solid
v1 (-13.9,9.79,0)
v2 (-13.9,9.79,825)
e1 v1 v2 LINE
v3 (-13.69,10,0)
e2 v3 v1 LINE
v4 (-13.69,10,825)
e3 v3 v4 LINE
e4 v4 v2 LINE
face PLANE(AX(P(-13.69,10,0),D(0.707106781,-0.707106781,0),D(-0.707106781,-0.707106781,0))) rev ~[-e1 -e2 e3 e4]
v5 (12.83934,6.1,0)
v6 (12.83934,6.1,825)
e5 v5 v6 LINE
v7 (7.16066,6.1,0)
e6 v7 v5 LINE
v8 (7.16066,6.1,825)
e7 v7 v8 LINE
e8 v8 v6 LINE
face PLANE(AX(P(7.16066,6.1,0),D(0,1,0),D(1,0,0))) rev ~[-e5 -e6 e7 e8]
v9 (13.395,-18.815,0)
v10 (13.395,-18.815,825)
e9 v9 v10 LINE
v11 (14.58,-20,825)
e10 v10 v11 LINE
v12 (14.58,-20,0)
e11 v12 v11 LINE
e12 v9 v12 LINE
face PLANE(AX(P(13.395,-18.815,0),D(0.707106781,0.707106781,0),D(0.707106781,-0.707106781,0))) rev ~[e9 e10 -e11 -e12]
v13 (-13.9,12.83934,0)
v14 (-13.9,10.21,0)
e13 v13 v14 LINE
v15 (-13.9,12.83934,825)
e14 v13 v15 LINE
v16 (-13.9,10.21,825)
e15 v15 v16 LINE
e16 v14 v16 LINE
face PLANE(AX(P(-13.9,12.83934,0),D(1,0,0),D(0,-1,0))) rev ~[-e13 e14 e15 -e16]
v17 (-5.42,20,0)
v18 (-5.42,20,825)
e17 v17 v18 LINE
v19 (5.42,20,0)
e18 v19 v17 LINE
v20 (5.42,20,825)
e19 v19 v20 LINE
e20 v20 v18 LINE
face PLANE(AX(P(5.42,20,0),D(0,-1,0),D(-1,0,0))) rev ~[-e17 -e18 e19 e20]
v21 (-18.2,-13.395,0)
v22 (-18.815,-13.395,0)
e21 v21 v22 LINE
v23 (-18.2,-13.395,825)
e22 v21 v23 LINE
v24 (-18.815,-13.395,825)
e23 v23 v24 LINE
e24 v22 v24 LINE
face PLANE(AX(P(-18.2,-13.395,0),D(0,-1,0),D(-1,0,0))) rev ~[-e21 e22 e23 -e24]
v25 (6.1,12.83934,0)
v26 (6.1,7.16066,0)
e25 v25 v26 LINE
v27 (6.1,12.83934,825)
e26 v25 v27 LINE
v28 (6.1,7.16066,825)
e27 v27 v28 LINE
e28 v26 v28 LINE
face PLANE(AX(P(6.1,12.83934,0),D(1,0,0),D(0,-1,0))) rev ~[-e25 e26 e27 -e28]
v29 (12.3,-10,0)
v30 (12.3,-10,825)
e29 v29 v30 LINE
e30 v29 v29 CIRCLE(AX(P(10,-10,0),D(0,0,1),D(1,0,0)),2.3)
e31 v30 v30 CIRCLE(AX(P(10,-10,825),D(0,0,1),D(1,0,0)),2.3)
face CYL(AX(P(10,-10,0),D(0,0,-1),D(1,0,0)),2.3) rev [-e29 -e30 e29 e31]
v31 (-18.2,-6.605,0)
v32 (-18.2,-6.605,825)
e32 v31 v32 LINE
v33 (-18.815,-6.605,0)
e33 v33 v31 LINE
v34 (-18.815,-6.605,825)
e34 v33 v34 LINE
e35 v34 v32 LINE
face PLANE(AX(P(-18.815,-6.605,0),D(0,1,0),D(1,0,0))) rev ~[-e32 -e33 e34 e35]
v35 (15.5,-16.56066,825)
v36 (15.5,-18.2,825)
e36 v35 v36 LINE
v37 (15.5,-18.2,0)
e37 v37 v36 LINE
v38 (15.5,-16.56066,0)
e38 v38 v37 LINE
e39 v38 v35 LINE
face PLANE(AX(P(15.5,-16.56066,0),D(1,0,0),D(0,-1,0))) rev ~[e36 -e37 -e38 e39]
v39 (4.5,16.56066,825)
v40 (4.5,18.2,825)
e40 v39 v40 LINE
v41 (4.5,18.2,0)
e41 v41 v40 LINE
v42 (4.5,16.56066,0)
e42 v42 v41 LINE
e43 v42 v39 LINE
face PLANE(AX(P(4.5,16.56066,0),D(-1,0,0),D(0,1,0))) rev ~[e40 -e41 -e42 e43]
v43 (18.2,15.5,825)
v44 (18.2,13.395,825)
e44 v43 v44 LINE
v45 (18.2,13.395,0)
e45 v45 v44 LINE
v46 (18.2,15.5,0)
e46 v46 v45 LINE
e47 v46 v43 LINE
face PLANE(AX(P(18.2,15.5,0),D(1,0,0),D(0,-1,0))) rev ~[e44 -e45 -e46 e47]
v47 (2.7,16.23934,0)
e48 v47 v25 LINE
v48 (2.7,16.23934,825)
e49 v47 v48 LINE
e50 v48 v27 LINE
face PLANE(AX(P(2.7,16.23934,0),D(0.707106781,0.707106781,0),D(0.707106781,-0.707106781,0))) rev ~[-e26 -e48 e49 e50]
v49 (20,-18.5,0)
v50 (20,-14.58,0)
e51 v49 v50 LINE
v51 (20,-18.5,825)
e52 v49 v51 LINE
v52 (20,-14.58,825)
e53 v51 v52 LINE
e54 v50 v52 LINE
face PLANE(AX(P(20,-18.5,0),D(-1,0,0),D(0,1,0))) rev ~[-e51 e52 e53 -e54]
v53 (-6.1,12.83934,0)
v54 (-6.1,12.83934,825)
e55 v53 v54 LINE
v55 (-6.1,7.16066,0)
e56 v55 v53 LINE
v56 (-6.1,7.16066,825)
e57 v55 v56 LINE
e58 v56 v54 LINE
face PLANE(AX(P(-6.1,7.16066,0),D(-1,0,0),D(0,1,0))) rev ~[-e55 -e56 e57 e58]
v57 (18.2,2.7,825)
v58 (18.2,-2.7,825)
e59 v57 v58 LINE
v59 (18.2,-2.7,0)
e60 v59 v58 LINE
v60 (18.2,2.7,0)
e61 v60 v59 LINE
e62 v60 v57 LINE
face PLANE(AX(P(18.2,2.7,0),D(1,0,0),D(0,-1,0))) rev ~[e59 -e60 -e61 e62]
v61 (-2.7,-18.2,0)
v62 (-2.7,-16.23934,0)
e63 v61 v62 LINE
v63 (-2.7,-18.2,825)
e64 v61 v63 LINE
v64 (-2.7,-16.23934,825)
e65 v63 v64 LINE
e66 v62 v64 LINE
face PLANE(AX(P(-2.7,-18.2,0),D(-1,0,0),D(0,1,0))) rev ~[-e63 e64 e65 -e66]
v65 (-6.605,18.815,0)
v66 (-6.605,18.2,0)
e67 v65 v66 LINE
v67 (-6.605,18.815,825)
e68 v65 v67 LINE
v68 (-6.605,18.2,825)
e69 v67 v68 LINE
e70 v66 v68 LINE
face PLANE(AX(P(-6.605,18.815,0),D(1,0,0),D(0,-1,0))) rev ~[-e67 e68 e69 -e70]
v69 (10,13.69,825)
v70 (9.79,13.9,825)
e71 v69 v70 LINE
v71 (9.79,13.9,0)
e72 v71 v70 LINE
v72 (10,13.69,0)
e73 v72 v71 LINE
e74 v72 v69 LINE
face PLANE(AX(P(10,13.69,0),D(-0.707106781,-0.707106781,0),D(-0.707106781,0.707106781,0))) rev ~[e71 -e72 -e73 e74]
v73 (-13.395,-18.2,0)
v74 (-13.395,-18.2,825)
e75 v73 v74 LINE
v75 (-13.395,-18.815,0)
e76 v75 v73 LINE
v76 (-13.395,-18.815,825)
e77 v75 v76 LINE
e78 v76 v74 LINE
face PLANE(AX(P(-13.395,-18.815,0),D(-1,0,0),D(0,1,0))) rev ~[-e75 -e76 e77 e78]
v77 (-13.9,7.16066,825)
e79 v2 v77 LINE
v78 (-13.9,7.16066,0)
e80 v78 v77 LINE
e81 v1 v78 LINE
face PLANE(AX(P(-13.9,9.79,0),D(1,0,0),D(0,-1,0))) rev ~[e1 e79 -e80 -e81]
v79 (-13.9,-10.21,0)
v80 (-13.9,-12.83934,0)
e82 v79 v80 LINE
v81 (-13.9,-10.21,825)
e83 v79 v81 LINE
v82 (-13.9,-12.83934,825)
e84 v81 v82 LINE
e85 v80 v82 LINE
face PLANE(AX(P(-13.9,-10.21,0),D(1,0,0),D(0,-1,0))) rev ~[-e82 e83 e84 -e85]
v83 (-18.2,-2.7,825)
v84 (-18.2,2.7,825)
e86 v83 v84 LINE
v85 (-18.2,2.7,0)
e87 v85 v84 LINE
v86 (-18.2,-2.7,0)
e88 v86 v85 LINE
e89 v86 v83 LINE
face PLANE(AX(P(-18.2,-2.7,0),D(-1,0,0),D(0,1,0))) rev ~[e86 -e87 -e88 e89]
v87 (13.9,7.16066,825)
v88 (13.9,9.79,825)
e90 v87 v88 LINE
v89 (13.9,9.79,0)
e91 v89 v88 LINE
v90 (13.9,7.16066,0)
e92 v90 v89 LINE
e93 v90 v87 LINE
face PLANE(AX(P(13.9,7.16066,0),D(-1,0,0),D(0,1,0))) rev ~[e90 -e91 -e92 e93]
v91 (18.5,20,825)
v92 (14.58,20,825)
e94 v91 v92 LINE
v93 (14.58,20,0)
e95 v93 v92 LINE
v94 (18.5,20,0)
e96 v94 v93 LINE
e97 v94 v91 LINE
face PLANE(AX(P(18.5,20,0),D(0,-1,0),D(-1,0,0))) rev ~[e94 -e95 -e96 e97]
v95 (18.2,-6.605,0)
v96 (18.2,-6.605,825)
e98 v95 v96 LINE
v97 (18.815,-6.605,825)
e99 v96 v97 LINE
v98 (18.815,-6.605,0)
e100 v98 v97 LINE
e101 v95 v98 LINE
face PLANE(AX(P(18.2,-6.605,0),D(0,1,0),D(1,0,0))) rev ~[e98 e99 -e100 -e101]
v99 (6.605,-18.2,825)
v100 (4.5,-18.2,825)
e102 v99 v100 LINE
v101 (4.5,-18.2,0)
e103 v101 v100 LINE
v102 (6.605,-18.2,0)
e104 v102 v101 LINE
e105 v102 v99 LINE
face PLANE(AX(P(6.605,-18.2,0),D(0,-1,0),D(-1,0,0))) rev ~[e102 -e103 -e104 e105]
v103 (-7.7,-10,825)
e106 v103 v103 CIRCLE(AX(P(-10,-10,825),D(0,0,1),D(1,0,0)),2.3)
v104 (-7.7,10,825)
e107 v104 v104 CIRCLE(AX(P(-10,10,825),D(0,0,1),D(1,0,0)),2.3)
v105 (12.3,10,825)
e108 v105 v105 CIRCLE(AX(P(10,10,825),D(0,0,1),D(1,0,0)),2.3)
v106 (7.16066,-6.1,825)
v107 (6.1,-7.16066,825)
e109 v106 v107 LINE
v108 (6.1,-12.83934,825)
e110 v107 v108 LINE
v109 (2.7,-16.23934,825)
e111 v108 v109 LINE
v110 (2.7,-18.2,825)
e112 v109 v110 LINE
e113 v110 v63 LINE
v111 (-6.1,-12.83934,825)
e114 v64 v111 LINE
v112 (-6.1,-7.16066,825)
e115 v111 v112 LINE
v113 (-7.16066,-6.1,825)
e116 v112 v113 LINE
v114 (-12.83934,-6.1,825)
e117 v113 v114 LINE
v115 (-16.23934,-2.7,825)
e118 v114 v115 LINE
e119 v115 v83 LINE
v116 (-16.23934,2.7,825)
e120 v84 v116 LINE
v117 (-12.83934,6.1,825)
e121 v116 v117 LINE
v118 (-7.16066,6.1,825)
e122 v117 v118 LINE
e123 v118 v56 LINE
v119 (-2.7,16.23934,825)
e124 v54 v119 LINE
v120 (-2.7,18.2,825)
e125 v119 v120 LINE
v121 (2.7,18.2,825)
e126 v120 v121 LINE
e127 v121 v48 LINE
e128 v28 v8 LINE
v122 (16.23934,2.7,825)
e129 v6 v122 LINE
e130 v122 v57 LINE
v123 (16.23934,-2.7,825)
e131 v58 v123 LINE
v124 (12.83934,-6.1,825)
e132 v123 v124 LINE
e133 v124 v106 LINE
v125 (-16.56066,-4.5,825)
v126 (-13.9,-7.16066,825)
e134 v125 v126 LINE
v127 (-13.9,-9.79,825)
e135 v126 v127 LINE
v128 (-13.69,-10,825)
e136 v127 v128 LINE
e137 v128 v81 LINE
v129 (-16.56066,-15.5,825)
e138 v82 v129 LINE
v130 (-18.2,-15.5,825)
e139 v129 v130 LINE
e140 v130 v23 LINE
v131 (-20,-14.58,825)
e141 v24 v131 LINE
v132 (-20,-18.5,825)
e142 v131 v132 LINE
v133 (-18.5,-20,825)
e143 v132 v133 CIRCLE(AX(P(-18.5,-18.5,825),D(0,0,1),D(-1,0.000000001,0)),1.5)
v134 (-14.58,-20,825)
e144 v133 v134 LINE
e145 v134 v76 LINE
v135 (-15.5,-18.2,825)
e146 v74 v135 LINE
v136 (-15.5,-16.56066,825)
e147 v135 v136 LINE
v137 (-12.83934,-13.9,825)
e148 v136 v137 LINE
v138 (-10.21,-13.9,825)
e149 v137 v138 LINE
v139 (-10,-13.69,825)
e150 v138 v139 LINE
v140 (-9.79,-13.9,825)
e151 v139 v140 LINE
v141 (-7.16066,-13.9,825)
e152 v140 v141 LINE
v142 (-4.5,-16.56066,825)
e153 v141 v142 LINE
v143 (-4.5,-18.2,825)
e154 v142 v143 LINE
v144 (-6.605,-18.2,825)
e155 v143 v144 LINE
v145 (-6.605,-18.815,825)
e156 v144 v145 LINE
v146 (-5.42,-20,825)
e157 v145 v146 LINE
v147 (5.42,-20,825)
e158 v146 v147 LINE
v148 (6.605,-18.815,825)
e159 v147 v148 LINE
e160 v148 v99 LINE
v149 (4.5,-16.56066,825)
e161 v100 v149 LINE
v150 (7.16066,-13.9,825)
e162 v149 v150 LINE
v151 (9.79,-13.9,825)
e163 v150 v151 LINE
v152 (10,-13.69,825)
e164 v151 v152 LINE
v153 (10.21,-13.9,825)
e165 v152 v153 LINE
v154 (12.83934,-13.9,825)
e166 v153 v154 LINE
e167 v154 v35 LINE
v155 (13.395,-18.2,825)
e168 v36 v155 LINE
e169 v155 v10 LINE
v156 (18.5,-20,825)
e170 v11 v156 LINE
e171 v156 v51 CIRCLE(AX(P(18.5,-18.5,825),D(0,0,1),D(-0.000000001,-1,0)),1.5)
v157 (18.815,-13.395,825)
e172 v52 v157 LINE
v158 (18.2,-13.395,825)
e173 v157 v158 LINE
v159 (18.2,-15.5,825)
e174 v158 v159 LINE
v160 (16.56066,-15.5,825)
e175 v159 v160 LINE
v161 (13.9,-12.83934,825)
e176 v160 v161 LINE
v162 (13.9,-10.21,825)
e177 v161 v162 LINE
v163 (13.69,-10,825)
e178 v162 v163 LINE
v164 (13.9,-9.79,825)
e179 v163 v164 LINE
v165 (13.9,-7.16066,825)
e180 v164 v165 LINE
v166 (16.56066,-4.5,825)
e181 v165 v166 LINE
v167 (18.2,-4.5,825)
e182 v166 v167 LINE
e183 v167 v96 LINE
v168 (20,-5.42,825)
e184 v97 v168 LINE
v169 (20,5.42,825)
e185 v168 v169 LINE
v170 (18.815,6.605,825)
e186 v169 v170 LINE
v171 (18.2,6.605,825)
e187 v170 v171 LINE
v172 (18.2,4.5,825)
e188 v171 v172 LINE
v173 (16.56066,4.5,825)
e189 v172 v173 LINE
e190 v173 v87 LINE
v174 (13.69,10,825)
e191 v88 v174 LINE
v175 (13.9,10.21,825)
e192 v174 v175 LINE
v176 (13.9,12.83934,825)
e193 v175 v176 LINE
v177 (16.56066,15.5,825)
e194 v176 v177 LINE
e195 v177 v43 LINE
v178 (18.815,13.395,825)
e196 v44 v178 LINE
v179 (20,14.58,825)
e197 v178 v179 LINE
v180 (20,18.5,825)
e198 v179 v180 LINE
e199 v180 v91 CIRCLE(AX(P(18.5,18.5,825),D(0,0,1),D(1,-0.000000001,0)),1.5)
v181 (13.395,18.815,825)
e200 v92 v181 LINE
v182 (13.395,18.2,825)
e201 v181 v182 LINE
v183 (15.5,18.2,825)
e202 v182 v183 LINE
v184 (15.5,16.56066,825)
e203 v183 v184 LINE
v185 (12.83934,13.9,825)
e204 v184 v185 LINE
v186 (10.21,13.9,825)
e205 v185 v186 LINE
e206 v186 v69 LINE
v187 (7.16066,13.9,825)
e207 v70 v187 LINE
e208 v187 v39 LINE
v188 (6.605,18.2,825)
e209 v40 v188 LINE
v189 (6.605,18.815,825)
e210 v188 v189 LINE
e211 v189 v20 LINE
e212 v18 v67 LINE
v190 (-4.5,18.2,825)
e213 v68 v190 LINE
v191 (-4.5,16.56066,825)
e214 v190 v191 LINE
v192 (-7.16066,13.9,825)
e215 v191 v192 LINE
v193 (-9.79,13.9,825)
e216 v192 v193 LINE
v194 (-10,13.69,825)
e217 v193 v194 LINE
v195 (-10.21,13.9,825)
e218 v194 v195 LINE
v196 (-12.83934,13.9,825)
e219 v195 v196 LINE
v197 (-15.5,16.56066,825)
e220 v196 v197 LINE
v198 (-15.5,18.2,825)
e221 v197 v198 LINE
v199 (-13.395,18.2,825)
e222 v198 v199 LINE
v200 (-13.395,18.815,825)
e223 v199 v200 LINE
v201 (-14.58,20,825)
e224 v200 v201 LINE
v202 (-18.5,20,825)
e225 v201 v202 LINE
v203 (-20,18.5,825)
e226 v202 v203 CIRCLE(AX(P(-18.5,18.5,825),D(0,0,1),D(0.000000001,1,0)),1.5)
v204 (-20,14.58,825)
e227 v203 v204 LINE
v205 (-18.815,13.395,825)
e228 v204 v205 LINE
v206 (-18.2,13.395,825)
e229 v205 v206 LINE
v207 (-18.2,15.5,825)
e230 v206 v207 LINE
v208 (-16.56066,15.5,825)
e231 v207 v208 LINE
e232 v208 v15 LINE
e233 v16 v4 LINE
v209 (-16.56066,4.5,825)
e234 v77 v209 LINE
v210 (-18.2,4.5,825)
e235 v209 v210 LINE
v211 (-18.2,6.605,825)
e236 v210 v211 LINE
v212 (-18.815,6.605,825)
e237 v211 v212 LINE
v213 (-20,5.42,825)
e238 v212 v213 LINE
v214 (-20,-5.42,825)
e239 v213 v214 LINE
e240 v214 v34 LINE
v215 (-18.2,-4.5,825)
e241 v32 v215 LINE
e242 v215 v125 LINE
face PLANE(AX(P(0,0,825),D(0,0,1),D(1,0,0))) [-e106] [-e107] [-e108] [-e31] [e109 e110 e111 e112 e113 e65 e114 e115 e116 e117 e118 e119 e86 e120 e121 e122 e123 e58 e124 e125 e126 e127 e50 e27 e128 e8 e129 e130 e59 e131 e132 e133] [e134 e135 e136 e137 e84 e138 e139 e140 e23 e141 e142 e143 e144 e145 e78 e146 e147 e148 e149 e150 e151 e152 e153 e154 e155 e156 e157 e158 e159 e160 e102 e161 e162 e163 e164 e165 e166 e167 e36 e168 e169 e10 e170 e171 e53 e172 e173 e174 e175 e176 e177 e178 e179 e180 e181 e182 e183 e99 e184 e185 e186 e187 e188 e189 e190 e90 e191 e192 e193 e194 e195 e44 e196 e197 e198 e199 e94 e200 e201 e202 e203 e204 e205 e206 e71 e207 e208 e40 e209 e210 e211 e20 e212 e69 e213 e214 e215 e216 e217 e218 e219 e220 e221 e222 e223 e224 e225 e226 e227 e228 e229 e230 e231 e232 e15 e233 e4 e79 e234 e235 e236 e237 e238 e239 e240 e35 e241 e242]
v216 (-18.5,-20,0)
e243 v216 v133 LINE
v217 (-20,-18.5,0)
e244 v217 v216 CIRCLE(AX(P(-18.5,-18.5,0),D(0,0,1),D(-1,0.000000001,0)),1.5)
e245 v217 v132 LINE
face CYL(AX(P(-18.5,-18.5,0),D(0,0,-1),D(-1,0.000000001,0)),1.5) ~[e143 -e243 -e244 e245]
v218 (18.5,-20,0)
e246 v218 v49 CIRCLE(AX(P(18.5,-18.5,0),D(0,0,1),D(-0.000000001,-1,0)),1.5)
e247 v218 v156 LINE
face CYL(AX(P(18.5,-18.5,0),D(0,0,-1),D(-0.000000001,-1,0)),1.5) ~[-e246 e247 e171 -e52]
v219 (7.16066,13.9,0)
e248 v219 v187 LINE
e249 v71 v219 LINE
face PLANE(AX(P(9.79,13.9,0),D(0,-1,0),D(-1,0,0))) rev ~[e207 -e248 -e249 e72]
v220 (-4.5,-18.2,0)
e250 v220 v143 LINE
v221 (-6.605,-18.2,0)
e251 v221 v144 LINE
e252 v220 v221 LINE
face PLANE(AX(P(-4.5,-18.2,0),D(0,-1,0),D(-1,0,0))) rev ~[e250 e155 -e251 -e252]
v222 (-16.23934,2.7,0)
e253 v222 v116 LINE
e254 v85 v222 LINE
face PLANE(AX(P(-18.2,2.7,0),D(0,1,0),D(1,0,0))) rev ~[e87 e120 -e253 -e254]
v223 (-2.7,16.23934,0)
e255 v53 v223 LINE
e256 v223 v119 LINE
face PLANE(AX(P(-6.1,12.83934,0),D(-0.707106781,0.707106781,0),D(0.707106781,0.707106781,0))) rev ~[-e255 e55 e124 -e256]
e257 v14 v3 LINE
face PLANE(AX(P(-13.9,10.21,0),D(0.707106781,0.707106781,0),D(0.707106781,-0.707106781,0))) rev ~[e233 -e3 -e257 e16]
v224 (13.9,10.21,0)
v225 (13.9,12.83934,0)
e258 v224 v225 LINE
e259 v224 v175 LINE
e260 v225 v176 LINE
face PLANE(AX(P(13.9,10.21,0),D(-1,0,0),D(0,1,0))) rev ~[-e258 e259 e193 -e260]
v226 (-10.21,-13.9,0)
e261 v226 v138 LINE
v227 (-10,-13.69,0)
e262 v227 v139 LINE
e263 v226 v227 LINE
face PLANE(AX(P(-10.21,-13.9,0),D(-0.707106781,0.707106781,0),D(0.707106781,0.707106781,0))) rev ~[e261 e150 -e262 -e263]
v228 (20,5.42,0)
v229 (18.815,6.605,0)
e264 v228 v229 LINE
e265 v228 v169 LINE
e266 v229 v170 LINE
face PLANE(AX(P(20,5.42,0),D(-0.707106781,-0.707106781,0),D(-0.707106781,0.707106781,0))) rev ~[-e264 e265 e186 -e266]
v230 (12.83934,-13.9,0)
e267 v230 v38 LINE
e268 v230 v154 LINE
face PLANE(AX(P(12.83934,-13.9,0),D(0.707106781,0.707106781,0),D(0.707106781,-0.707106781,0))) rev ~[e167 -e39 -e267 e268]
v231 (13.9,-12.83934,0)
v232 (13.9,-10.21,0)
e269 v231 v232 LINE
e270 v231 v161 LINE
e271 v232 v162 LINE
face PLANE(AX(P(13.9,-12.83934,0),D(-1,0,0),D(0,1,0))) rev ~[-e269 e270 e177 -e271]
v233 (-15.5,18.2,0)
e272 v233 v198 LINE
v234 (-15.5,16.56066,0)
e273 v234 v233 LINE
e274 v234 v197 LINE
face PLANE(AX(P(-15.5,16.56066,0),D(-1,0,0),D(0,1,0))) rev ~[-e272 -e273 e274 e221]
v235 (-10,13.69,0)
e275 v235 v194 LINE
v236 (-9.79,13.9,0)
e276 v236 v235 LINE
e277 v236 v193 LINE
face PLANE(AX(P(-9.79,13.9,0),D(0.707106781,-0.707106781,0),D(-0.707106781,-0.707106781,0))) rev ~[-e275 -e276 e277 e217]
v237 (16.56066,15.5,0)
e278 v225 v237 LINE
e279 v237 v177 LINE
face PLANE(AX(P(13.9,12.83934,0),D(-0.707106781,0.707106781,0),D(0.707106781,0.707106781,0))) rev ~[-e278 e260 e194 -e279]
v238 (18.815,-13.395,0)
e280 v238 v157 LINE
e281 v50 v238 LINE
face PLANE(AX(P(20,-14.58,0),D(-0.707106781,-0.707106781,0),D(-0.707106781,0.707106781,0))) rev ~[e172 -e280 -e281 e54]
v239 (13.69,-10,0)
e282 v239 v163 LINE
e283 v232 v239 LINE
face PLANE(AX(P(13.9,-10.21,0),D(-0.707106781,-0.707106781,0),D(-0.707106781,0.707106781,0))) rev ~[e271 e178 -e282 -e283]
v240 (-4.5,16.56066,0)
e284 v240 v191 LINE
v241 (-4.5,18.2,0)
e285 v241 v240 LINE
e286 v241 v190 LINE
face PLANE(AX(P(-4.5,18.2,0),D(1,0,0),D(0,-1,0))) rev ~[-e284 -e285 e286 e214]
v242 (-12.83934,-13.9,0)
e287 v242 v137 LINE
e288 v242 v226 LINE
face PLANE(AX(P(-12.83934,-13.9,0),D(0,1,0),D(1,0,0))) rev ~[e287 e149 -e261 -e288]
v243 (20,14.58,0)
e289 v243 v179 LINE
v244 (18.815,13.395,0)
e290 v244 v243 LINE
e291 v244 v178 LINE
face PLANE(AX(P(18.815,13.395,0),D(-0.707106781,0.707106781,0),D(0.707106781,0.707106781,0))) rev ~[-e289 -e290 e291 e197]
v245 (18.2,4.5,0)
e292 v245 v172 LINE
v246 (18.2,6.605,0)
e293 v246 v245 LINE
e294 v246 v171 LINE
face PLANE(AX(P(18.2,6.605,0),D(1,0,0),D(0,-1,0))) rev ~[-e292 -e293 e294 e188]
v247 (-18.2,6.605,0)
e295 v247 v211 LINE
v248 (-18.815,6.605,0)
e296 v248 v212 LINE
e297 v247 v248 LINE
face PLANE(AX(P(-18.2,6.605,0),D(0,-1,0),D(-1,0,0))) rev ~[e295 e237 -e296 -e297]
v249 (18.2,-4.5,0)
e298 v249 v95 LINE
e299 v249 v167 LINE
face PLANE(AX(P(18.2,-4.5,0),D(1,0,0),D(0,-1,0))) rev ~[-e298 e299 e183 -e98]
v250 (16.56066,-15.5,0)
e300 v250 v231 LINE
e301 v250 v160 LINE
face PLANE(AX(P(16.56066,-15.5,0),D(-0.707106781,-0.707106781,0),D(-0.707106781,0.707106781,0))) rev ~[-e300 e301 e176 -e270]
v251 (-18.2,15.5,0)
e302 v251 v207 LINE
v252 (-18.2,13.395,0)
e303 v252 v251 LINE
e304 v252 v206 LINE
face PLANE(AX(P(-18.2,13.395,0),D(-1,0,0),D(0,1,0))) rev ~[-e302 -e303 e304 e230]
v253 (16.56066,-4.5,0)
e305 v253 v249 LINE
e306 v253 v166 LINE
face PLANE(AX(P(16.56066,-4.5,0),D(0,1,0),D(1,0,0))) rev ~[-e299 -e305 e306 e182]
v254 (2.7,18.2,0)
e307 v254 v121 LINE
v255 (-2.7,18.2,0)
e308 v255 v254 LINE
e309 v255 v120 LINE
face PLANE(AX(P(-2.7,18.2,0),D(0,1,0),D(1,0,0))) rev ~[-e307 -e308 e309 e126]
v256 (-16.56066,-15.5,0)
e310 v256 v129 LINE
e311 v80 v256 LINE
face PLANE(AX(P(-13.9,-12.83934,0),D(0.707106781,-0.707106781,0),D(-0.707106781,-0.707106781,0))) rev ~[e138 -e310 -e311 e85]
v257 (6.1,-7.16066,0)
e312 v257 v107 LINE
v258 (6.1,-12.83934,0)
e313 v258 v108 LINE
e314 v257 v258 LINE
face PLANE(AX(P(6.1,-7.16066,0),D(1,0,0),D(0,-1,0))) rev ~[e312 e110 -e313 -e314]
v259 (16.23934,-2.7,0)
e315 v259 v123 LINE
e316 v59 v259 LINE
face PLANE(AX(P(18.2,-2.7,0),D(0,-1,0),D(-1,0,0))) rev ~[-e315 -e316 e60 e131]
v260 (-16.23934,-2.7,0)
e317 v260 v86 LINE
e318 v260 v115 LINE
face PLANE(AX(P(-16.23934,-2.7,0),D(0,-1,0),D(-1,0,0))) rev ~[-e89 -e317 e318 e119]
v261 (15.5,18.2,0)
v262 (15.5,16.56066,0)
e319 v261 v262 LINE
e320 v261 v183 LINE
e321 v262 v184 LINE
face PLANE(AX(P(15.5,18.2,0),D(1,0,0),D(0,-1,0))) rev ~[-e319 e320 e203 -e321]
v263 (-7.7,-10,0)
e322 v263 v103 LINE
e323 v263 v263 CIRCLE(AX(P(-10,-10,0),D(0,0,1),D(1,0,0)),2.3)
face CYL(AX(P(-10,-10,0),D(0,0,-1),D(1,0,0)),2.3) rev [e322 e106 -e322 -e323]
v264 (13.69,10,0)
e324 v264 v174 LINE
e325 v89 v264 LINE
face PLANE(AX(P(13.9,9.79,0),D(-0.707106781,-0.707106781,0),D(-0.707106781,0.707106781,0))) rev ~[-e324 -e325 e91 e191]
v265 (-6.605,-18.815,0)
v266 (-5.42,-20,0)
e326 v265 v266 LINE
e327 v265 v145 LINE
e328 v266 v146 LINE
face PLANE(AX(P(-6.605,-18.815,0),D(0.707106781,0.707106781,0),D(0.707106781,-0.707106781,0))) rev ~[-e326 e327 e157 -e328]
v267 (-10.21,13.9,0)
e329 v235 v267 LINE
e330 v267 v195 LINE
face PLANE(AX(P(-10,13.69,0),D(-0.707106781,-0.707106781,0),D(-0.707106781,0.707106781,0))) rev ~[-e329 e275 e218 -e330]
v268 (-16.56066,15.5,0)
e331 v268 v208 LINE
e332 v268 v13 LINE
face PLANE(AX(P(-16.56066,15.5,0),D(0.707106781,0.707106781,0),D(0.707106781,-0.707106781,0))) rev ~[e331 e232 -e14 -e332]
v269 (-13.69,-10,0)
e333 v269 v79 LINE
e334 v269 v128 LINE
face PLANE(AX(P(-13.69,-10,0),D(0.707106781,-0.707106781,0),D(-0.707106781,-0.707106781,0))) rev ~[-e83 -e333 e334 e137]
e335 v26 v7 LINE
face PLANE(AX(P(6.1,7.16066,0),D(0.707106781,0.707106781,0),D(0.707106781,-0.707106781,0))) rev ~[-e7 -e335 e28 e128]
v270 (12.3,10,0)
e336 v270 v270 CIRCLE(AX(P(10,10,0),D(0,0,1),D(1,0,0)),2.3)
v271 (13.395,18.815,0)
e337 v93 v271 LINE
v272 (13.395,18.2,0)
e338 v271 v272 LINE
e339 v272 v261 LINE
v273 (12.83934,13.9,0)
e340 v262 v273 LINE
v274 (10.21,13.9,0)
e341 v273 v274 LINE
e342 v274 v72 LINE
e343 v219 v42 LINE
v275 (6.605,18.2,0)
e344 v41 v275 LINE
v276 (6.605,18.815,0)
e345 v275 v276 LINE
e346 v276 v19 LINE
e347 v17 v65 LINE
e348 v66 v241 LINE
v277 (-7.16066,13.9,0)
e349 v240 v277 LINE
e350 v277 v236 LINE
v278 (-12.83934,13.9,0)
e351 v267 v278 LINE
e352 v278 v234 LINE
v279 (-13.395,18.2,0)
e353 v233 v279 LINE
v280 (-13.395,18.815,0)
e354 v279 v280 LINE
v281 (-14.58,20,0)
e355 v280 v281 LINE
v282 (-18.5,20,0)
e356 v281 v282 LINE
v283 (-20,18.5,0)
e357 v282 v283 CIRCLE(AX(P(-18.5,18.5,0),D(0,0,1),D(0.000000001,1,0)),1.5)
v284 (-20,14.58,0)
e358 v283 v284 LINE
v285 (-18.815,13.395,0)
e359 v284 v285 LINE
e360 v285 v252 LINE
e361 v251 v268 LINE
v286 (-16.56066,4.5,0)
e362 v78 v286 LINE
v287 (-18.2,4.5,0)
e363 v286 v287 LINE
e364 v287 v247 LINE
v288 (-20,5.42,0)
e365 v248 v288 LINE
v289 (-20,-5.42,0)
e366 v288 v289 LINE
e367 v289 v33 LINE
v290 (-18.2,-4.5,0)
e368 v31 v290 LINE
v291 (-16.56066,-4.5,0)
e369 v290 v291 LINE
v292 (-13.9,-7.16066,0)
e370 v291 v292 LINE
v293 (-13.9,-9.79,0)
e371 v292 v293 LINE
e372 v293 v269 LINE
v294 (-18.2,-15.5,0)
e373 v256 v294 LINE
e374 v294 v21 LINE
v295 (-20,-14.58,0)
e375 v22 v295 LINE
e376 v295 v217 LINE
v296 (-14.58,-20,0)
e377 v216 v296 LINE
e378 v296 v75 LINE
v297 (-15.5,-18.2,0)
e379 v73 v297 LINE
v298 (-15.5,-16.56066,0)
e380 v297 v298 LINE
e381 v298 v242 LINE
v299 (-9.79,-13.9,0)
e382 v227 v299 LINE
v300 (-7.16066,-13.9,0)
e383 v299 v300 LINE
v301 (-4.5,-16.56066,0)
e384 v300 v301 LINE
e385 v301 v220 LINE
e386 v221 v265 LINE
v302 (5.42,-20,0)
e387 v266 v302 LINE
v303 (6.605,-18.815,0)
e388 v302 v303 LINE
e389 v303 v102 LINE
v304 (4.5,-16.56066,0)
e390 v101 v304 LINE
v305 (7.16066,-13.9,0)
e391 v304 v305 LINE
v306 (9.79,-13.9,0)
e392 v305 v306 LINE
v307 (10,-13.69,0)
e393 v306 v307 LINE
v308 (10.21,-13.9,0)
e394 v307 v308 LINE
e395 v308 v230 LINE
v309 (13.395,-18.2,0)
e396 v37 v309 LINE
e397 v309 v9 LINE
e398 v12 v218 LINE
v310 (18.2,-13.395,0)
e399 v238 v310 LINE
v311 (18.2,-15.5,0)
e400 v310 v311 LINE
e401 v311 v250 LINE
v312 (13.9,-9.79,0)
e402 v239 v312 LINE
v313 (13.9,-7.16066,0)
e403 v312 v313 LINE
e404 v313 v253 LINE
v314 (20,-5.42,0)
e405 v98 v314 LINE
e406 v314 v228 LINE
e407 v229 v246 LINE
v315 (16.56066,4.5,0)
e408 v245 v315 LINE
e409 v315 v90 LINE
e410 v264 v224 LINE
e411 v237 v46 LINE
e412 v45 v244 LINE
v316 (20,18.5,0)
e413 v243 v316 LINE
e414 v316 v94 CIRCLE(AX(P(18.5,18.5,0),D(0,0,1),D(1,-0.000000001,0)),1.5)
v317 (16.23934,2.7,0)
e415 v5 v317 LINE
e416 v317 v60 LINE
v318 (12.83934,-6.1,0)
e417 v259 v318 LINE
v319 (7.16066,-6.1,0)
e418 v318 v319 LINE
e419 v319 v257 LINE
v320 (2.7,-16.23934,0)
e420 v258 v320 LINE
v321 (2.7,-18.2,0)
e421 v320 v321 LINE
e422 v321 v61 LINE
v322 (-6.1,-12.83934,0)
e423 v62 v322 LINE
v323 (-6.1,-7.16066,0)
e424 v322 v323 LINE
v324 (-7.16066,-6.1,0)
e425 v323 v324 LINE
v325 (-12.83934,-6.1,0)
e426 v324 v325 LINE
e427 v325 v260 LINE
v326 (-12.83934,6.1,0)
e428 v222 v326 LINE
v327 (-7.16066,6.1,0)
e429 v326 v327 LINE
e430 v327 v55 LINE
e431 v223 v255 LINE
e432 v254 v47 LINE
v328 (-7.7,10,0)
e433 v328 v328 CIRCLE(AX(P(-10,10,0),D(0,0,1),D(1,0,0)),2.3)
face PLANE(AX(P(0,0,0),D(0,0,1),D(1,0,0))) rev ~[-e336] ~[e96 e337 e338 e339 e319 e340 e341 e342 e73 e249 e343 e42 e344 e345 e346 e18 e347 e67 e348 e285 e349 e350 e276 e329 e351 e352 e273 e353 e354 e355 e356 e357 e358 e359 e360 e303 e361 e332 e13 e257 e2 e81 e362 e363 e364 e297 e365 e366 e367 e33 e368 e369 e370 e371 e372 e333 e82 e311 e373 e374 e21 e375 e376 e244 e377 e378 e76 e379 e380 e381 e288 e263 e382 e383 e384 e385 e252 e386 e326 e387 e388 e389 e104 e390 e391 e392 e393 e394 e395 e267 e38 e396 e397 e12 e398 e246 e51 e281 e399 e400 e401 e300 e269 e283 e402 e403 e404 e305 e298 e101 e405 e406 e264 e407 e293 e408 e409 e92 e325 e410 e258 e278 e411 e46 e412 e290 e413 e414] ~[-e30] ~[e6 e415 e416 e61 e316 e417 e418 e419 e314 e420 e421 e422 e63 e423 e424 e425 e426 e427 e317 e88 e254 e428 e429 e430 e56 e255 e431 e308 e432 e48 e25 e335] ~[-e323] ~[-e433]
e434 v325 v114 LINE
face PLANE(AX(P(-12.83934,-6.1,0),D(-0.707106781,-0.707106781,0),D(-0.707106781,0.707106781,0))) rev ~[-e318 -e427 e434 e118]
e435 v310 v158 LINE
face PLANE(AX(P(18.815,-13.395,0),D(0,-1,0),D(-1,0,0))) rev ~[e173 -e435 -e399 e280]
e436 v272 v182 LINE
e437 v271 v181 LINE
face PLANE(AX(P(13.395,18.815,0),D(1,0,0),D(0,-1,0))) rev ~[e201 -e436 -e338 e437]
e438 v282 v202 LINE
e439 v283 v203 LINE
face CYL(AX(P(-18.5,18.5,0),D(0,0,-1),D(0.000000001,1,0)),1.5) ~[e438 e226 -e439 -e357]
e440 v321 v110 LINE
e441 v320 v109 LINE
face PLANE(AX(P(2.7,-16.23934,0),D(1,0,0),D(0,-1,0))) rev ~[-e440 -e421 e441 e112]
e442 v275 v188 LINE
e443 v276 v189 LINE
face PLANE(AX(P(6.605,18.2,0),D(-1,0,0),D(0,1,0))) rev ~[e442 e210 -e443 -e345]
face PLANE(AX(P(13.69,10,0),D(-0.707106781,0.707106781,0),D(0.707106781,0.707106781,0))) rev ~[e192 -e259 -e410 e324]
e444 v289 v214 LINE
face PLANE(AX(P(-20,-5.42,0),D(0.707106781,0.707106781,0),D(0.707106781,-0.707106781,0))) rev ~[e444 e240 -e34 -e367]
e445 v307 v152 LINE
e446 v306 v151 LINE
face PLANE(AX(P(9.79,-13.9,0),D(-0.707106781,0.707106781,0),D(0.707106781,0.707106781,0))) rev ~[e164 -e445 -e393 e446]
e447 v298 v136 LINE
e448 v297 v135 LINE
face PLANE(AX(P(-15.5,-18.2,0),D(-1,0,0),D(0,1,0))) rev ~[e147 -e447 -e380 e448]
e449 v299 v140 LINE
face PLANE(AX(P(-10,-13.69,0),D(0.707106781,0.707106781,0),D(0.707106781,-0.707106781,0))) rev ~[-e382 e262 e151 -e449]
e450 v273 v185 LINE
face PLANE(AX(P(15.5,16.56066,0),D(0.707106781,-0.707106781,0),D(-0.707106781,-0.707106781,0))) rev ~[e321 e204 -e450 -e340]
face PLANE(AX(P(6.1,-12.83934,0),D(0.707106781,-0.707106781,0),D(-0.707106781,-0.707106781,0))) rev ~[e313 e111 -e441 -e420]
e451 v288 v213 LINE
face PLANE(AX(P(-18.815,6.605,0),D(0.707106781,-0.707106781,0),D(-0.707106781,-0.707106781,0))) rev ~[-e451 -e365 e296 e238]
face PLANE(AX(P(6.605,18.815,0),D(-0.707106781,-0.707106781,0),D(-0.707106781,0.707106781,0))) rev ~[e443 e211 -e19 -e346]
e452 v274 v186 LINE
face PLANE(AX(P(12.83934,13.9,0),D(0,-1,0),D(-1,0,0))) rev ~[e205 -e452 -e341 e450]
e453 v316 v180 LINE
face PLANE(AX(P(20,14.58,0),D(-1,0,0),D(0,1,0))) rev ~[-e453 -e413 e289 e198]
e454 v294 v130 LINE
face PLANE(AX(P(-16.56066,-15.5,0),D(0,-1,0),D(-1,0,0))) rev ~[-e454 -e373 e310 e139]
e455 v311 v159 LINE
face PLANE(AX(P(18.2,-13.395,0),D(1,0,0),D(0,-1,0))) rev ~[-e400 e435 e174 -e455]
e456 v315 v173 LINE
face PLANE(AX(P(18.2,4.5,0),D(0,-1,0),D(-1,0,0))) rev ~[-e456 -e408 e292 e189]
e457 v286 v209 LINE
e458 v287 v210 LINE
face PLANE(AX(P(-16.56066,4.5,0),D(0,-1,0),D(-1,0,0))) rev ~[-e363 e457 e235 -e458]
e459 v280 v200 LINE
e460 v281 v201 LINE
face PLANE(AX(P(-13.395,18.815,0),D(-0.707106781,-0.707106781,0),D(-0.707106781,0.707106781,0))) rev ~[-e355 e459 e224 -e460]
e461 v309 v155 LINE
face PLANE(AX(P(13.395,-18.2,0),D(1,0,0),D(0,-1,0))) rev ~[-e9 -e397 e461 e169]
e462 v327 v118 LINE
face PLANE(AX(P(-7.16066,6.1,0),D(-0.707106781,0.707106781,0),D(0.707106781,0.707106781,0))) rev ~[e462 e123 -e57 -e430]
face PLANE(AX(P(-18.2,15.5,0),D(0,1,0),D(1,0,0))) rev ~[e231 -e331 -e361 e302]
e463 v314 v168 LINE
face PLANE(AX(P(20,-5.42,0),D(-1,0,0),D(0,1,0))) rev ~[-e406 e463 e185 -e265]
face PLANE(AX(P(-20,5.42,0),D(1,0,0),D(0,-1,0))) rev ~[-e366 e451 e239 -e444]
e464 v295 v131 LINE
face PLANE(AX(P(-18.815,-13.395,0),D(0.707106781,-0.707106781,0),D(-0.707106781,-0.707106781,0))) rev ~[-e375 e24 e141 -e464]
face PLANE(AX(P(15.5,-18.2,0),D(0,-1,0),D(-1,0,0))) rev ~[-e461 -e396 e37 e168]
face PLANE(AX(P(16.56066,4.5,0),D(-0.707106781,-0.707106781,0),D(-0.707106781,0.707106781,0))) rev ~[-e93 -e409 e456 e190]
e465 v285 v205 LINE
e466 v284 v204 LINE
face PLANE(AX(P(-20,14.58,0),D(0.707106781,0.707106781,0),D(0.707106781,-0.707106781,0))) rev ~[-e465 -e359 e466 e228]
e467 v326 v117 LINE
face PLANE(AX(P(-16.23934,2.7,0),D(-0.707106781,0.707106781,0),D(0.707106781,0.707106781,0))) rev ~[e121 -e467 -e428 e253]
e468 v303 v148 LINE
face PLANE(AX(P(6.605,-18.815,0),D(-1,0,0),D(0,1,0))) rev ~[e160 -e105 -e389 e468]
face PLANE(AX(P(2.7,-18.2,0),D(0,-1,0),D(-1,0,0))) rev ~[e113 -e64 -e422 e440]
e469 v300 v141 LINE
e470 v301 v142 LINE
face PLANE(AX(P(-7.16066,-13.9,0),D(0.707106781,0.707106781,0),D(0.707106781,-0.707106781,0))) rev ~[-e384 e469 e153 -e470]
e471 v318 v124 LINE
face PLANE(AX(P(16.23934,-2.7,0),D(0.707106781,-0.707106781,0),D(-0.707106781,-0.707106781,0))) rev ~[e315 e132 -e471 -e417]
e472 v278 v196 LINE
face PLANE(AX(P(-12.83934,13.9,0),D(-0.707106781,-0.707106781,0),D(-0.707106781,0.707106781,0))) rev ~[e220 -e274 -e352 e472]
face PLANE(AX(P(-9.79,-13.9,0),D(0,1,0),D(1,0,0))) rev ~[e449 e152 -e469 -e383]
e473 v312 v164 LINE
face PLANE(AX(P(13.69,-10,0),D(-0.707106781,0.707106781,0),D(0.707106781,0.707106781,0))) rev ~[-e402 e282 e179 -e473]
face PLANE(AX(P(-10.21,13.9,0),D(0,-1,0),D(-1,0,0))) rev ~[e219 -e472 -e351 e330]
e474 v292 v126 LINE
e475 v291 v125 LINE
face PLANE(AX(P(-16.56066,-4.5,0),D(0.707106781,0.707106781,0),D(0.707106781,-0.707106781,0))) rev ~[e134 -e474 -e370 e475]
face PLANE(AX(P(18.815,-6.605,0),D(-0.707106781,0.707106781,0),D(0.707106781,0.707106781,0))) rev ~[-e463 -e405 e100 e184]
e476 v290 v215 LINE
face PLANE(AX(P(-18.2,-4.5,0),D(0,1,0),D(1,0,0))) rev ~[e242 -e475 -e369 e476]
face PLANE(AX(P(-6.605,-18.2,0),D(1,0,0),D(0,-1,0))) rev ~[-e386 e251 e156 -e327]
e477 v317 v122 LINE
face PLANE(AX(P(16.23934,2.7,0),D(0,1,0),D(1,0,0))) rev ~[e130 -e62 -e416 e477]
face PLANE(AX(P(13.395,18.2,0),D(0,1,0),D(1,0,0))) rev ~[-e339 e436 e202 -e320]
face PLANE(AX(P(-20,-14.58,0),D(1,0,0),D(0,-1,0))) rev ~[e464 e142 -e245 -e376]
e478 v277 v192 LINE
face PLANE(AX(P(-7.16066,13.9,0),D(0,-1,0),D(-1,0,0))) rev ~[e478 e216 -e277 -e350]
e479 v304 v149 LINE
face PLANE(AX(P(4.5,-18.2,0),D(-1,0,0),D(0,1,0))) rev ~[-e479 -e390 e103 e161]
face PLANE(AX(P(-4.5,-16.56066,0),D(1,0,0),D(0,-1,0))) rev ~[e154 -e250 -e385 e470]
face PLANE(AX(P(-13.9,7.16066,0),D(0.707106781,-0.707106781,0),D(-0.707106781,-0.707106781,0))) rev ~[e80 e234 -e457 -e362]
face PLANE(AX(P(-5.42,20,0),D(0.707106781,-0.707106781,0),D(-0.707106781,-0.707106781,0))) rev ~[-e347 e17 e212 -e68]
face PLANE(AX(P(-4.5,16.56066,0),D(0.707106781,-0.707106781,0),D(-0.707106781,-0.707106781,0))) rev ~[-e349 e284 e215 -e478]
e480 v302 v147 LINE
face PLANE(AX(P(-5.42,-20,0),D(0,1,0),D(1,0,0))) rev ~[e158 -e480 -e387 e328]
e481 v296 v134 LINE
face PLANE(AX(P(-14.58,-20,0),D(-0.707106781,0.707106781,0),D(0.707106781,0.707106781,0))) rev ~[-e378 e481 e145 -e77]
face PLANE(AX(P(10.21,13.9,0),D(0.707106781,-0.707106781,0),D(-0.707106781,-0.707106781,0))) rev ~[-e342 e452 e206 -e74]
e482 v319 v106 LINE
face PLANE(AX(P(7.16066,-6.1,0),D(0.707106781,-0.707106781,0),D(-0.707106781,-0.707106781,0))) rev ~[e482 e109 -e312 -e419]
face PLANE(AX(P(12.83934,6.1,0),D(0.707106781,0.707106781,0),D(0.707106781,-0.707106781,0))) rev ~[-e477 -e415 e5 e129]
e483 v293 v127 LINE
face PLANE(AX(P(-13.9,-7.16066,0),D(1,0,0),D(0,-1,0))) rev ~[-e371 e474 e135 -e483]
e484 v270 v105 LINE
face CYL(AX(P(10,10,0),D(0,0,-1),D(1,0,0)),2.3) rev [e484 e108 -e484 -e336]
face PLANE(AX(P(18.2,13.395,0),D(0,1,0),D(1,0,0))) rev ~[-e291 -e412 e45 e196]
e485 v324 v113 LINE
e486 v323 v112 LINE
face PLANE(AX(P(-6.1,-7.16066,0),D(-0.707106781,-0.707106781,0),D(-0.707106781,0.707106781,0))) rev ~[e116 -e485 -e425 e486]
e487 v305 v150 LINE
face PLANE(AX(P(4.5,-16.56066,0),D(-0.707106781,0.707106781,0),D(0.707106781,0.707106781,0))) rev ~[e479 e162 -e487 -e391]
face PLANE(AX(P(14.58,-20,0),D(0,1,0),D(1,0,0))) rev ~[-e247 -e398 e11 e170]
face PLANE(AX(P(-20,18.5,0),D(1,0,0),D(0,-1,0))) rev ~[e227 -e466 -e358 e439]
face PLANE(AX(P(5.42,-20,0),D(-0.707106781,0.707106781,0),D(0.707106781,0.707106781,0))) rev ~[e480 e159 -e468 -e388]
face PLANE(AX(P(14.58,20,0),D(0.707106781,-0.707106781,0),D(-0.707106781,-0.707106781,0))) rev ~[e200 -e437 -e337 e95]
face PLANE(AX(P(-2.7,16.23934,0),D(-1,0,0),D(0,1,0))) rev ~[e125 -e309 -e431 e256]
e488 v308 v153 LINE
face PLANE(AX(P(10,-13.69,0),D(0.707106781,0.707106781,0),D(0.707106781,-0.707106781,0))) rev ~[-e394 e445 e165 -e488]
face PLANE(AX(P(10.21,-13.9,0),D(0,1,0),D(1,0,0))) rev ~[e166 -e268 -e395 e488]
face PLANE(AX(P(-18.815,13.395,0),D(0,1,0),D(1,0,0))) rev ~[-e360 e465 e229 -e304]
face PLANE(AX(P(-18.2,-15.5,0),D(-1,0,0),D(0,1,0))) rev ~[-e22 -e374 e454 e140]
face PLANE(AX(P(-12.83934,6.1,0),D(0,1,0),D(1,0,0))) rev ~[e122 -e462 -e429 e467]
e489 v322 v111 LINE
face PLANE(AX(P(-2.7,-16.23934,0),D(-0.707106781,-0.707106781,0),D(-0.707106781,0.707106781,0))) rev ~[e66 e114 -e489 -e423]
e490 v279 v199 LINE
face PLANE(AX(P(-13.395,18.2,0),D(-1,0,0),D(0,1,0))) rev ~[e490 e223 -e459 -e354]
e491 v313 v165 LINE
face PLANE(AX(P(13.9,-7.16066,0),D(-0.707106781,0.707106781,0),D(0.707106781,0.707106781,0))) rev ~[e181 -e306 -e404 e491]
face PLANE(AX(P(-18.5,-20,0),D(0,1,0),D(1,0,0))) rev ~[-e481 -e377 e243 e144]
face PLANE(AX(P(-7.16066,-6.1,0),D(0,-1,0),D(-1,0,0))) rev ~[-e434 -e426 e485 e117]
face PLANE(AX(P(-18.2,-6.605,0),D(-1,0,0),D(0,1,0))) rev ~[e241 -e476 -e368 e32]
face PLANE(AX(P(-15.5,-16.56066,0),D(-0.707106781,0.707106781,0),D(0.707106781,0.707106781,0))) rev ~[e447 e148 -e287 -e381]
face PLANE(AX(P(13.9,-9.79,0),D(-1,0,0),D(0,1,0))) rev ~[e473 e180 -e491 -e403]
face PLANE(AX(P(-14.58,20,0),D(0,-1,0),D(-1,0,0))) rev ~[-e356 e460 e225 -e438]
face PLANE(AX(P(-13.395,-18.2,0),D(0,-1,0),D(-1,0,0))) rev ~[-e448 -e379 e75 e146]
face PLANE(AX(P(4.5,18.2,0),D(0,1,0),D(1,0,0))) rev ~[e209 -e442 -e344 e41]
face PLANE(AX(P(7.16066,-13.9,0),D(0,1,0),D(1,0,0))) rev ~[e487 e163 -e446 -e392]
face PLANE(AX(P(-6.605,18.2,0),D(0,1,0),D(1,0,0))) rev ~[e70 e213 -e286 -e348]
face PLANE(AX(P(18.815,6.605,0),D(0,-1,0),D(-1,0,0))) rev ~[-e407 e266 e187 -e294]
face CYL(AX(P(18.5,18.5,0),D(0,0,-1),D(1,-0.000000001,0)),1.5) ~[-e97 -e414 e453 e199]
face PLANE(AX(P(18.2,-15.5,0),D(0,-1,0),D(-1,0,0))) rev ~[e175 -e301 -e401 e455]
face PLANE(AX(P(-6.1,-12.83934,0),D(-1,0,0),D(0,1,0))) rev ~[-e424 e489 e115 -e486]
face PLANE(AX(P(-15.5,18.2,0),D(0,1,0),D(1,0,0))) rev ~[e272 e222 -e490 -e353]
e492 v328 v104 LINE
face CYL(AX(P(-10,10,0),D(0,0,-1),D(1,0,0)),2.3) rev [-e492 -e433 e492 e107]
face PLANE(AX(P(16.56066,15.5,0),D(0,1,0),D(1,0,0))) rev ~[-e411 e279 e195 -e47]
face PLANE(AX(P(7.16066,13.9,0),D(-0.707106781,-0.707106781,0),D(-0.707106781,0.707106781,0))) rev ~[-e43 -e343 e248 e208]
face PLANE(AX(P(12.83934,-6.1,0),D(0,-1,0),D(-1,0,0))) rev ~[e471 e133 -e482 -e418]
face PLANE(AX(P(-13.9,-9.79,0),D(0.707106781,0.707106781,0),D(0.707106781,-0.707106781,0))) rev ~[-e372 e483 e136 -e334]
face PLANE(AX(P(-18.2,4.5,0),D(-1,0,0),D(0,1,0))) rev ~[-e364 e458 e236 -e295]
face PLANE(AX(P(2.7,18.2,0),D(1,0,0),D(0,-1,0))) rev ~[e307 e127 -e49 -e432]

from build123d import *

# Parameters (mm, degrees)
SKETCH1_R           = 2.3
BOSS_EXTRUDE1_DEPTH = 825


with BuildPart() as part:
    # Sketch1 → Boss-Extrude1 (new body)
    with BuildSketch(Plane.XY):
        with BuildLine():
            Line((14.58, -20), (18.5, -20))
            ThreePointArc((18.5, -20), (19.560660172, -19.560660172), (20, -18.5))
            Line((20, -18.5), (20, -14.58))
            Line((20, -14.58), (18.815, -13.395))
            Line((18.815, -13.395), (18.2, -13.395))
            Line((18.2, -13.395), (18.2, -15.5))
            Line((18.2, -15.5), (16.560660172, -15.5))
            Line((16.560660172, -15.5), (13.9, -12.839339828))
            Line((13.9, -12.839339828), (13.9, -10.21))
            Line((13.9, -10.21), (13.69, -10))
            Line((13.69, -10), (13.9, -9.79))
            Line((13.9, -9.79), (13.9, -7.160660172))
            Line((13.9, -7.160660172), (16.560660172, -4.5))
            Line((16.560660172, -4.5), (18.2, -4.5))
            Line((18.2, -4.5), (18.2, -6.605))
            Line((18.2, -6.605), (18.815, -6.605))
            Line((18.815, -6.605), (20, -5.42))
            Line((20, -5.42), (20, 5.42))
            Line((20, 5.42), (18.815, 6.605))
            Line((18.815, 6.605), (18.2, 6.605))
            Line((18.2, 6.605), (18.2, 4.5))
            Line((18.2, 4.5), (16.560660172, 4.5))
            Line((16.560660172, 4.5), (13.9, 7.160660172))
            Line((13.9, 7.160660172), (13.9, 9.79))
            Line((13.9, 9.79), (13.69, 10))
            Line((13.69, 10), (13.9, 10.21))
            Line((13.9, 10.21), (13.9, 12.839339828))
            Line((13.9, 12.839339828), (16.560660172, 15.5))
            Line((16.560660172, 15.5), (18.2, 15.5))
            Line((18.2, 15.5), (18.2, 13.395))
            Line((18.2, 13.395), (18.815, 13.395))
            Line((18.815, 13.395), (20, 14.58))
            Line((20, 14.58), (20, 18.5))
            ThreePointArc((20, 18.5), (19.560660172, 19.560660172), (18.5, 20))
            Line((18.5, 20), (14.58, 20))
            Line((14.58, 20), (13.395, 18.815))
            Line((13.395, 18.815), (13.395, 18.2))
            Line((13.395, 18.2), (15.5, 18.2))
            Line((15.5, 18.2), (15.5, 16.560660172))
            Line((15.5, 16.560660172), (12.839339828, 13.9))
            Line((12.839339828, 13.9), (10.21, 13.9))
            Line((10.21, 13.9), (10, 13.69))
            Line((10, 13.69), (9.79, 13.9))
            Line((9.79, 13.9), (7.160660172, 13.9))
            Line((7.160660172, 13.9), (4.5, 16.560660172))
            Line((4.5, 16.560660172), (4.5, 18.2))
            Line((4.5, 18.2), (6.605, 18.2))
            Line((6.605, 18.2), (6.605, 18.815))
            Line((6.605, 18.815), (5.42, 20))
            Line((5.42, 20), (-5.42, 20))
            Line((-5.42, 20), (-6.605, 18.815))
            Line((-6.605, 18.815), (-6.605, 18.2))
            Line((-6.605, 18.2), (-4.5, 18.2))
            Line((-4.5, 18.2), (-4.5, 16.560660172))
            Line((-4.5, 16.560660172), (-7.160660172, 13.9))
            Line((-7.160660172, 13.9), (-9.79, 13.9))
            Line((-9.79, 13.9), (-10, 13.69))
            Line((-10, 13.69), (-10.21, 13.9))
            Line((-10.21, 13.9), (-12.839339828, 13.9))
            Line((-12.839339828, 13.9), (-15.5, 16.560660172))
            Line((-15.5, 16.560660172), (-15.5, 18.2))
            Line((-15.5, 18.2), (-13.395, 18.2))
            Line((-13.395, 18.2), (-13.395, 18.815))
            Line((-13.395, 18.815), (-14.58, 20))
            Line((-14.58, 20), (-18.5, 20))
            ThreePointArc((-18.5, 20), (-19.560660172, 19.560660172), (-20, 18.5))
            Line((-20, 18.5), (-20, 14.58))
            Line((-20, 14.58), (-18.815, 13.395))
            Line((-18.815, 13.395), (-18.2, 13.395))
            Line((-18.2, 13.395), (-18.2, 15.5))
            Line((-18.2, 15.5), (-16.560660172, 15.5))
            Line((-16.560660172, 15.5), (-13.9, 12.839339828))
            Line((-13.9, 12.839339828), (-13.9, 10.21))
            Line((-13.9, 10.21), (-13.69, 10))
            Line((-13.69, 10), (-13.9, 9.79))
            Line((-13.9, 9.79), (-13.9, 7.160660172))
            Line((-13.9, 7.160660172), (-16.560660172, 4.5))
            Line((-16.560660172, 4.5), (-18.2, 4.5))
            Line((-18.2, 4.5), (-18.2, 6.605))
            Line((-18.2, 6.605), (-18.815, 6.605))
            Line((-18.815, 6.605), (-20, 5.42))
            Line((-20, 5.42), (-20, -5.42))
            Line((-20, -5.42), (-18.815, -6.605))
            Line((-18.815, -6.605), (-18.2, -6.605))
            Line((-18.2, -6.605), (-18.2, -4.5))
            Line((-18.2, -4.5), (-16.560660172, -4.5))
            Line((-16.560660172, -4.5), (-13.9, -7.160660172))
            Line((-13.9, -7.160660172), (-13.9, -9.79))
            Line((-13.9, -9.79), (-13.69, -10))
            Line((-13.69, -10), (-13.9, -10.21))
            Line((-13.9, -10.21), (-13.9, -12.839339828))
            Line((-13.9, -12.839339828), (-16.560660172, -15.5))
            Line((-16.560660172, -15.5), (-18.2, -15.5))
            Line((-18.2, -15.5), (-18.2, -13.395))
            Line((-18.2, -13.395), (-18.815, -13.395))
            Line((-18.815, -13.395), (-20, -14.58))
            Line((-20, -14.58), (-20, -18.5))
            ThreePointArc((-20, -18.5), (-19.560660172, -19.560660172), (-18.5, -20))
            Line((-18.5, -20), (-14.58, -20))
            Line((-14.58, -20), (-13.395, -18.815))
            Line((-13.395, -18.815), (-13.395, -18.2))
            Line((-13.395, -18.2), (-15.5, -18.2))
            Line((-15.5, -18.2), (-15.5, -16.560660172))
            Line((-15.5, -16.560660172), (-12.839339828, -13.9))
            Line((-12.839339828, -13.9), (-10.21, -13.9))
            Line((-10.21, -13.9), (-10, -13.69))
            Line((-10, -13.69), (-9.79, -13.9))
            Line((-9.79, -13.9), (-7.160660172, -13.9))
            Line((-7.160660172, -13.9), (-4.5, -16.560660172))
            Line((-4.5, -16.560660172), (-4.5, -18.2))
            Line((-4.5, -18.2), (-6.605, -18.2))
            Line((-6.605, -18.2), (-6.605, -18.815))
            Line((-6.605, -18.815), (-5.42, -20))
            Line((-5.42, -20), (5.42, -20))
            Line((5.42, -20), (6.605, -18.815))
            Line((6.605, -18.815), (6.605, -18.2))
            Line((6.605, -18.2), (4.5, -18.2))
            Line((4.5, -18.2), (4.5, -16.560660172))
            Line((4.5, -16.560660172), (7.160660172, -13.9))
            Line((7.160660172, -13.9), (9.79, -13.9))
            Line((9.79, -13.9), (10, -13.69))
            Line((10, -13.69), (10.21, -13.9))
            Line((10.21, -13.9), (12.839339828, -13.9))
            Line((12.839339828, -13.9), (15.5, -16.560660172))
            Line((15.5, -16.560660172), (15.5, -18.2))
            Line((15.5, -18.2), (13.395, -18.2))
            Line((13.395, -18.2), (13.395, -18.815))
            Line((13.395, -18.815), (14.58, -20))
        make_face()
        with Locations((-10, -10)):
            Circle(SKETCH1_R, mode=Mode.SUBTRACT)
        with Locations((10, -10)):
            Circle(SKETCH1_R, mode=Mode.SUBTRACT)
        Polygon((-16.239339828, -2.7), (-18.2, -2.7), (-18.2, 2.7), (-16.239339828, 2.7), (-12.839339828, 6.1), (-7.160660172, 6.1), (-6.1, 7.160660172), (-6.1, 12.839339828), (-2.7, 16.239339828), (-2.7, 18.2), (2.7, 18.2), (2.7, 16.239339828), (6.1, 12.839339828), (6.1, 7.160660172), (7.160660172, 6.1), (12.839339828, 6.1), (16.239339828, 2.7), (18.2, 2.7), (18.2, -2.7), (16.239339828, -2.7), (12.839339828, -6.1), (7.160660172, -6.1), (6.1, -7.160660172), (6.1, -12.839339828), (2.7, -16.239339828), (2.7, -18.2), (-2.7, -18.2), (-2.7, -16.239339828), (-6.1, -12.839339828), (-6.1, -7.160660172), (-7.160660172, -6.1), (-12.839339828, -6.1), align=None, mode=Mode.SUBTRACT)
        with Locations((-10, 10)):
            Circle(SKETCH1_R, mode=Mode.SUBTRACT)
        with Locations((10, 10)):
            Circle(SKETCH1_R, mode=Mode.SUBTRACT)
    extrude(amount=BOSS_EXTRUDE1_DEPTH)


solid = part.part
